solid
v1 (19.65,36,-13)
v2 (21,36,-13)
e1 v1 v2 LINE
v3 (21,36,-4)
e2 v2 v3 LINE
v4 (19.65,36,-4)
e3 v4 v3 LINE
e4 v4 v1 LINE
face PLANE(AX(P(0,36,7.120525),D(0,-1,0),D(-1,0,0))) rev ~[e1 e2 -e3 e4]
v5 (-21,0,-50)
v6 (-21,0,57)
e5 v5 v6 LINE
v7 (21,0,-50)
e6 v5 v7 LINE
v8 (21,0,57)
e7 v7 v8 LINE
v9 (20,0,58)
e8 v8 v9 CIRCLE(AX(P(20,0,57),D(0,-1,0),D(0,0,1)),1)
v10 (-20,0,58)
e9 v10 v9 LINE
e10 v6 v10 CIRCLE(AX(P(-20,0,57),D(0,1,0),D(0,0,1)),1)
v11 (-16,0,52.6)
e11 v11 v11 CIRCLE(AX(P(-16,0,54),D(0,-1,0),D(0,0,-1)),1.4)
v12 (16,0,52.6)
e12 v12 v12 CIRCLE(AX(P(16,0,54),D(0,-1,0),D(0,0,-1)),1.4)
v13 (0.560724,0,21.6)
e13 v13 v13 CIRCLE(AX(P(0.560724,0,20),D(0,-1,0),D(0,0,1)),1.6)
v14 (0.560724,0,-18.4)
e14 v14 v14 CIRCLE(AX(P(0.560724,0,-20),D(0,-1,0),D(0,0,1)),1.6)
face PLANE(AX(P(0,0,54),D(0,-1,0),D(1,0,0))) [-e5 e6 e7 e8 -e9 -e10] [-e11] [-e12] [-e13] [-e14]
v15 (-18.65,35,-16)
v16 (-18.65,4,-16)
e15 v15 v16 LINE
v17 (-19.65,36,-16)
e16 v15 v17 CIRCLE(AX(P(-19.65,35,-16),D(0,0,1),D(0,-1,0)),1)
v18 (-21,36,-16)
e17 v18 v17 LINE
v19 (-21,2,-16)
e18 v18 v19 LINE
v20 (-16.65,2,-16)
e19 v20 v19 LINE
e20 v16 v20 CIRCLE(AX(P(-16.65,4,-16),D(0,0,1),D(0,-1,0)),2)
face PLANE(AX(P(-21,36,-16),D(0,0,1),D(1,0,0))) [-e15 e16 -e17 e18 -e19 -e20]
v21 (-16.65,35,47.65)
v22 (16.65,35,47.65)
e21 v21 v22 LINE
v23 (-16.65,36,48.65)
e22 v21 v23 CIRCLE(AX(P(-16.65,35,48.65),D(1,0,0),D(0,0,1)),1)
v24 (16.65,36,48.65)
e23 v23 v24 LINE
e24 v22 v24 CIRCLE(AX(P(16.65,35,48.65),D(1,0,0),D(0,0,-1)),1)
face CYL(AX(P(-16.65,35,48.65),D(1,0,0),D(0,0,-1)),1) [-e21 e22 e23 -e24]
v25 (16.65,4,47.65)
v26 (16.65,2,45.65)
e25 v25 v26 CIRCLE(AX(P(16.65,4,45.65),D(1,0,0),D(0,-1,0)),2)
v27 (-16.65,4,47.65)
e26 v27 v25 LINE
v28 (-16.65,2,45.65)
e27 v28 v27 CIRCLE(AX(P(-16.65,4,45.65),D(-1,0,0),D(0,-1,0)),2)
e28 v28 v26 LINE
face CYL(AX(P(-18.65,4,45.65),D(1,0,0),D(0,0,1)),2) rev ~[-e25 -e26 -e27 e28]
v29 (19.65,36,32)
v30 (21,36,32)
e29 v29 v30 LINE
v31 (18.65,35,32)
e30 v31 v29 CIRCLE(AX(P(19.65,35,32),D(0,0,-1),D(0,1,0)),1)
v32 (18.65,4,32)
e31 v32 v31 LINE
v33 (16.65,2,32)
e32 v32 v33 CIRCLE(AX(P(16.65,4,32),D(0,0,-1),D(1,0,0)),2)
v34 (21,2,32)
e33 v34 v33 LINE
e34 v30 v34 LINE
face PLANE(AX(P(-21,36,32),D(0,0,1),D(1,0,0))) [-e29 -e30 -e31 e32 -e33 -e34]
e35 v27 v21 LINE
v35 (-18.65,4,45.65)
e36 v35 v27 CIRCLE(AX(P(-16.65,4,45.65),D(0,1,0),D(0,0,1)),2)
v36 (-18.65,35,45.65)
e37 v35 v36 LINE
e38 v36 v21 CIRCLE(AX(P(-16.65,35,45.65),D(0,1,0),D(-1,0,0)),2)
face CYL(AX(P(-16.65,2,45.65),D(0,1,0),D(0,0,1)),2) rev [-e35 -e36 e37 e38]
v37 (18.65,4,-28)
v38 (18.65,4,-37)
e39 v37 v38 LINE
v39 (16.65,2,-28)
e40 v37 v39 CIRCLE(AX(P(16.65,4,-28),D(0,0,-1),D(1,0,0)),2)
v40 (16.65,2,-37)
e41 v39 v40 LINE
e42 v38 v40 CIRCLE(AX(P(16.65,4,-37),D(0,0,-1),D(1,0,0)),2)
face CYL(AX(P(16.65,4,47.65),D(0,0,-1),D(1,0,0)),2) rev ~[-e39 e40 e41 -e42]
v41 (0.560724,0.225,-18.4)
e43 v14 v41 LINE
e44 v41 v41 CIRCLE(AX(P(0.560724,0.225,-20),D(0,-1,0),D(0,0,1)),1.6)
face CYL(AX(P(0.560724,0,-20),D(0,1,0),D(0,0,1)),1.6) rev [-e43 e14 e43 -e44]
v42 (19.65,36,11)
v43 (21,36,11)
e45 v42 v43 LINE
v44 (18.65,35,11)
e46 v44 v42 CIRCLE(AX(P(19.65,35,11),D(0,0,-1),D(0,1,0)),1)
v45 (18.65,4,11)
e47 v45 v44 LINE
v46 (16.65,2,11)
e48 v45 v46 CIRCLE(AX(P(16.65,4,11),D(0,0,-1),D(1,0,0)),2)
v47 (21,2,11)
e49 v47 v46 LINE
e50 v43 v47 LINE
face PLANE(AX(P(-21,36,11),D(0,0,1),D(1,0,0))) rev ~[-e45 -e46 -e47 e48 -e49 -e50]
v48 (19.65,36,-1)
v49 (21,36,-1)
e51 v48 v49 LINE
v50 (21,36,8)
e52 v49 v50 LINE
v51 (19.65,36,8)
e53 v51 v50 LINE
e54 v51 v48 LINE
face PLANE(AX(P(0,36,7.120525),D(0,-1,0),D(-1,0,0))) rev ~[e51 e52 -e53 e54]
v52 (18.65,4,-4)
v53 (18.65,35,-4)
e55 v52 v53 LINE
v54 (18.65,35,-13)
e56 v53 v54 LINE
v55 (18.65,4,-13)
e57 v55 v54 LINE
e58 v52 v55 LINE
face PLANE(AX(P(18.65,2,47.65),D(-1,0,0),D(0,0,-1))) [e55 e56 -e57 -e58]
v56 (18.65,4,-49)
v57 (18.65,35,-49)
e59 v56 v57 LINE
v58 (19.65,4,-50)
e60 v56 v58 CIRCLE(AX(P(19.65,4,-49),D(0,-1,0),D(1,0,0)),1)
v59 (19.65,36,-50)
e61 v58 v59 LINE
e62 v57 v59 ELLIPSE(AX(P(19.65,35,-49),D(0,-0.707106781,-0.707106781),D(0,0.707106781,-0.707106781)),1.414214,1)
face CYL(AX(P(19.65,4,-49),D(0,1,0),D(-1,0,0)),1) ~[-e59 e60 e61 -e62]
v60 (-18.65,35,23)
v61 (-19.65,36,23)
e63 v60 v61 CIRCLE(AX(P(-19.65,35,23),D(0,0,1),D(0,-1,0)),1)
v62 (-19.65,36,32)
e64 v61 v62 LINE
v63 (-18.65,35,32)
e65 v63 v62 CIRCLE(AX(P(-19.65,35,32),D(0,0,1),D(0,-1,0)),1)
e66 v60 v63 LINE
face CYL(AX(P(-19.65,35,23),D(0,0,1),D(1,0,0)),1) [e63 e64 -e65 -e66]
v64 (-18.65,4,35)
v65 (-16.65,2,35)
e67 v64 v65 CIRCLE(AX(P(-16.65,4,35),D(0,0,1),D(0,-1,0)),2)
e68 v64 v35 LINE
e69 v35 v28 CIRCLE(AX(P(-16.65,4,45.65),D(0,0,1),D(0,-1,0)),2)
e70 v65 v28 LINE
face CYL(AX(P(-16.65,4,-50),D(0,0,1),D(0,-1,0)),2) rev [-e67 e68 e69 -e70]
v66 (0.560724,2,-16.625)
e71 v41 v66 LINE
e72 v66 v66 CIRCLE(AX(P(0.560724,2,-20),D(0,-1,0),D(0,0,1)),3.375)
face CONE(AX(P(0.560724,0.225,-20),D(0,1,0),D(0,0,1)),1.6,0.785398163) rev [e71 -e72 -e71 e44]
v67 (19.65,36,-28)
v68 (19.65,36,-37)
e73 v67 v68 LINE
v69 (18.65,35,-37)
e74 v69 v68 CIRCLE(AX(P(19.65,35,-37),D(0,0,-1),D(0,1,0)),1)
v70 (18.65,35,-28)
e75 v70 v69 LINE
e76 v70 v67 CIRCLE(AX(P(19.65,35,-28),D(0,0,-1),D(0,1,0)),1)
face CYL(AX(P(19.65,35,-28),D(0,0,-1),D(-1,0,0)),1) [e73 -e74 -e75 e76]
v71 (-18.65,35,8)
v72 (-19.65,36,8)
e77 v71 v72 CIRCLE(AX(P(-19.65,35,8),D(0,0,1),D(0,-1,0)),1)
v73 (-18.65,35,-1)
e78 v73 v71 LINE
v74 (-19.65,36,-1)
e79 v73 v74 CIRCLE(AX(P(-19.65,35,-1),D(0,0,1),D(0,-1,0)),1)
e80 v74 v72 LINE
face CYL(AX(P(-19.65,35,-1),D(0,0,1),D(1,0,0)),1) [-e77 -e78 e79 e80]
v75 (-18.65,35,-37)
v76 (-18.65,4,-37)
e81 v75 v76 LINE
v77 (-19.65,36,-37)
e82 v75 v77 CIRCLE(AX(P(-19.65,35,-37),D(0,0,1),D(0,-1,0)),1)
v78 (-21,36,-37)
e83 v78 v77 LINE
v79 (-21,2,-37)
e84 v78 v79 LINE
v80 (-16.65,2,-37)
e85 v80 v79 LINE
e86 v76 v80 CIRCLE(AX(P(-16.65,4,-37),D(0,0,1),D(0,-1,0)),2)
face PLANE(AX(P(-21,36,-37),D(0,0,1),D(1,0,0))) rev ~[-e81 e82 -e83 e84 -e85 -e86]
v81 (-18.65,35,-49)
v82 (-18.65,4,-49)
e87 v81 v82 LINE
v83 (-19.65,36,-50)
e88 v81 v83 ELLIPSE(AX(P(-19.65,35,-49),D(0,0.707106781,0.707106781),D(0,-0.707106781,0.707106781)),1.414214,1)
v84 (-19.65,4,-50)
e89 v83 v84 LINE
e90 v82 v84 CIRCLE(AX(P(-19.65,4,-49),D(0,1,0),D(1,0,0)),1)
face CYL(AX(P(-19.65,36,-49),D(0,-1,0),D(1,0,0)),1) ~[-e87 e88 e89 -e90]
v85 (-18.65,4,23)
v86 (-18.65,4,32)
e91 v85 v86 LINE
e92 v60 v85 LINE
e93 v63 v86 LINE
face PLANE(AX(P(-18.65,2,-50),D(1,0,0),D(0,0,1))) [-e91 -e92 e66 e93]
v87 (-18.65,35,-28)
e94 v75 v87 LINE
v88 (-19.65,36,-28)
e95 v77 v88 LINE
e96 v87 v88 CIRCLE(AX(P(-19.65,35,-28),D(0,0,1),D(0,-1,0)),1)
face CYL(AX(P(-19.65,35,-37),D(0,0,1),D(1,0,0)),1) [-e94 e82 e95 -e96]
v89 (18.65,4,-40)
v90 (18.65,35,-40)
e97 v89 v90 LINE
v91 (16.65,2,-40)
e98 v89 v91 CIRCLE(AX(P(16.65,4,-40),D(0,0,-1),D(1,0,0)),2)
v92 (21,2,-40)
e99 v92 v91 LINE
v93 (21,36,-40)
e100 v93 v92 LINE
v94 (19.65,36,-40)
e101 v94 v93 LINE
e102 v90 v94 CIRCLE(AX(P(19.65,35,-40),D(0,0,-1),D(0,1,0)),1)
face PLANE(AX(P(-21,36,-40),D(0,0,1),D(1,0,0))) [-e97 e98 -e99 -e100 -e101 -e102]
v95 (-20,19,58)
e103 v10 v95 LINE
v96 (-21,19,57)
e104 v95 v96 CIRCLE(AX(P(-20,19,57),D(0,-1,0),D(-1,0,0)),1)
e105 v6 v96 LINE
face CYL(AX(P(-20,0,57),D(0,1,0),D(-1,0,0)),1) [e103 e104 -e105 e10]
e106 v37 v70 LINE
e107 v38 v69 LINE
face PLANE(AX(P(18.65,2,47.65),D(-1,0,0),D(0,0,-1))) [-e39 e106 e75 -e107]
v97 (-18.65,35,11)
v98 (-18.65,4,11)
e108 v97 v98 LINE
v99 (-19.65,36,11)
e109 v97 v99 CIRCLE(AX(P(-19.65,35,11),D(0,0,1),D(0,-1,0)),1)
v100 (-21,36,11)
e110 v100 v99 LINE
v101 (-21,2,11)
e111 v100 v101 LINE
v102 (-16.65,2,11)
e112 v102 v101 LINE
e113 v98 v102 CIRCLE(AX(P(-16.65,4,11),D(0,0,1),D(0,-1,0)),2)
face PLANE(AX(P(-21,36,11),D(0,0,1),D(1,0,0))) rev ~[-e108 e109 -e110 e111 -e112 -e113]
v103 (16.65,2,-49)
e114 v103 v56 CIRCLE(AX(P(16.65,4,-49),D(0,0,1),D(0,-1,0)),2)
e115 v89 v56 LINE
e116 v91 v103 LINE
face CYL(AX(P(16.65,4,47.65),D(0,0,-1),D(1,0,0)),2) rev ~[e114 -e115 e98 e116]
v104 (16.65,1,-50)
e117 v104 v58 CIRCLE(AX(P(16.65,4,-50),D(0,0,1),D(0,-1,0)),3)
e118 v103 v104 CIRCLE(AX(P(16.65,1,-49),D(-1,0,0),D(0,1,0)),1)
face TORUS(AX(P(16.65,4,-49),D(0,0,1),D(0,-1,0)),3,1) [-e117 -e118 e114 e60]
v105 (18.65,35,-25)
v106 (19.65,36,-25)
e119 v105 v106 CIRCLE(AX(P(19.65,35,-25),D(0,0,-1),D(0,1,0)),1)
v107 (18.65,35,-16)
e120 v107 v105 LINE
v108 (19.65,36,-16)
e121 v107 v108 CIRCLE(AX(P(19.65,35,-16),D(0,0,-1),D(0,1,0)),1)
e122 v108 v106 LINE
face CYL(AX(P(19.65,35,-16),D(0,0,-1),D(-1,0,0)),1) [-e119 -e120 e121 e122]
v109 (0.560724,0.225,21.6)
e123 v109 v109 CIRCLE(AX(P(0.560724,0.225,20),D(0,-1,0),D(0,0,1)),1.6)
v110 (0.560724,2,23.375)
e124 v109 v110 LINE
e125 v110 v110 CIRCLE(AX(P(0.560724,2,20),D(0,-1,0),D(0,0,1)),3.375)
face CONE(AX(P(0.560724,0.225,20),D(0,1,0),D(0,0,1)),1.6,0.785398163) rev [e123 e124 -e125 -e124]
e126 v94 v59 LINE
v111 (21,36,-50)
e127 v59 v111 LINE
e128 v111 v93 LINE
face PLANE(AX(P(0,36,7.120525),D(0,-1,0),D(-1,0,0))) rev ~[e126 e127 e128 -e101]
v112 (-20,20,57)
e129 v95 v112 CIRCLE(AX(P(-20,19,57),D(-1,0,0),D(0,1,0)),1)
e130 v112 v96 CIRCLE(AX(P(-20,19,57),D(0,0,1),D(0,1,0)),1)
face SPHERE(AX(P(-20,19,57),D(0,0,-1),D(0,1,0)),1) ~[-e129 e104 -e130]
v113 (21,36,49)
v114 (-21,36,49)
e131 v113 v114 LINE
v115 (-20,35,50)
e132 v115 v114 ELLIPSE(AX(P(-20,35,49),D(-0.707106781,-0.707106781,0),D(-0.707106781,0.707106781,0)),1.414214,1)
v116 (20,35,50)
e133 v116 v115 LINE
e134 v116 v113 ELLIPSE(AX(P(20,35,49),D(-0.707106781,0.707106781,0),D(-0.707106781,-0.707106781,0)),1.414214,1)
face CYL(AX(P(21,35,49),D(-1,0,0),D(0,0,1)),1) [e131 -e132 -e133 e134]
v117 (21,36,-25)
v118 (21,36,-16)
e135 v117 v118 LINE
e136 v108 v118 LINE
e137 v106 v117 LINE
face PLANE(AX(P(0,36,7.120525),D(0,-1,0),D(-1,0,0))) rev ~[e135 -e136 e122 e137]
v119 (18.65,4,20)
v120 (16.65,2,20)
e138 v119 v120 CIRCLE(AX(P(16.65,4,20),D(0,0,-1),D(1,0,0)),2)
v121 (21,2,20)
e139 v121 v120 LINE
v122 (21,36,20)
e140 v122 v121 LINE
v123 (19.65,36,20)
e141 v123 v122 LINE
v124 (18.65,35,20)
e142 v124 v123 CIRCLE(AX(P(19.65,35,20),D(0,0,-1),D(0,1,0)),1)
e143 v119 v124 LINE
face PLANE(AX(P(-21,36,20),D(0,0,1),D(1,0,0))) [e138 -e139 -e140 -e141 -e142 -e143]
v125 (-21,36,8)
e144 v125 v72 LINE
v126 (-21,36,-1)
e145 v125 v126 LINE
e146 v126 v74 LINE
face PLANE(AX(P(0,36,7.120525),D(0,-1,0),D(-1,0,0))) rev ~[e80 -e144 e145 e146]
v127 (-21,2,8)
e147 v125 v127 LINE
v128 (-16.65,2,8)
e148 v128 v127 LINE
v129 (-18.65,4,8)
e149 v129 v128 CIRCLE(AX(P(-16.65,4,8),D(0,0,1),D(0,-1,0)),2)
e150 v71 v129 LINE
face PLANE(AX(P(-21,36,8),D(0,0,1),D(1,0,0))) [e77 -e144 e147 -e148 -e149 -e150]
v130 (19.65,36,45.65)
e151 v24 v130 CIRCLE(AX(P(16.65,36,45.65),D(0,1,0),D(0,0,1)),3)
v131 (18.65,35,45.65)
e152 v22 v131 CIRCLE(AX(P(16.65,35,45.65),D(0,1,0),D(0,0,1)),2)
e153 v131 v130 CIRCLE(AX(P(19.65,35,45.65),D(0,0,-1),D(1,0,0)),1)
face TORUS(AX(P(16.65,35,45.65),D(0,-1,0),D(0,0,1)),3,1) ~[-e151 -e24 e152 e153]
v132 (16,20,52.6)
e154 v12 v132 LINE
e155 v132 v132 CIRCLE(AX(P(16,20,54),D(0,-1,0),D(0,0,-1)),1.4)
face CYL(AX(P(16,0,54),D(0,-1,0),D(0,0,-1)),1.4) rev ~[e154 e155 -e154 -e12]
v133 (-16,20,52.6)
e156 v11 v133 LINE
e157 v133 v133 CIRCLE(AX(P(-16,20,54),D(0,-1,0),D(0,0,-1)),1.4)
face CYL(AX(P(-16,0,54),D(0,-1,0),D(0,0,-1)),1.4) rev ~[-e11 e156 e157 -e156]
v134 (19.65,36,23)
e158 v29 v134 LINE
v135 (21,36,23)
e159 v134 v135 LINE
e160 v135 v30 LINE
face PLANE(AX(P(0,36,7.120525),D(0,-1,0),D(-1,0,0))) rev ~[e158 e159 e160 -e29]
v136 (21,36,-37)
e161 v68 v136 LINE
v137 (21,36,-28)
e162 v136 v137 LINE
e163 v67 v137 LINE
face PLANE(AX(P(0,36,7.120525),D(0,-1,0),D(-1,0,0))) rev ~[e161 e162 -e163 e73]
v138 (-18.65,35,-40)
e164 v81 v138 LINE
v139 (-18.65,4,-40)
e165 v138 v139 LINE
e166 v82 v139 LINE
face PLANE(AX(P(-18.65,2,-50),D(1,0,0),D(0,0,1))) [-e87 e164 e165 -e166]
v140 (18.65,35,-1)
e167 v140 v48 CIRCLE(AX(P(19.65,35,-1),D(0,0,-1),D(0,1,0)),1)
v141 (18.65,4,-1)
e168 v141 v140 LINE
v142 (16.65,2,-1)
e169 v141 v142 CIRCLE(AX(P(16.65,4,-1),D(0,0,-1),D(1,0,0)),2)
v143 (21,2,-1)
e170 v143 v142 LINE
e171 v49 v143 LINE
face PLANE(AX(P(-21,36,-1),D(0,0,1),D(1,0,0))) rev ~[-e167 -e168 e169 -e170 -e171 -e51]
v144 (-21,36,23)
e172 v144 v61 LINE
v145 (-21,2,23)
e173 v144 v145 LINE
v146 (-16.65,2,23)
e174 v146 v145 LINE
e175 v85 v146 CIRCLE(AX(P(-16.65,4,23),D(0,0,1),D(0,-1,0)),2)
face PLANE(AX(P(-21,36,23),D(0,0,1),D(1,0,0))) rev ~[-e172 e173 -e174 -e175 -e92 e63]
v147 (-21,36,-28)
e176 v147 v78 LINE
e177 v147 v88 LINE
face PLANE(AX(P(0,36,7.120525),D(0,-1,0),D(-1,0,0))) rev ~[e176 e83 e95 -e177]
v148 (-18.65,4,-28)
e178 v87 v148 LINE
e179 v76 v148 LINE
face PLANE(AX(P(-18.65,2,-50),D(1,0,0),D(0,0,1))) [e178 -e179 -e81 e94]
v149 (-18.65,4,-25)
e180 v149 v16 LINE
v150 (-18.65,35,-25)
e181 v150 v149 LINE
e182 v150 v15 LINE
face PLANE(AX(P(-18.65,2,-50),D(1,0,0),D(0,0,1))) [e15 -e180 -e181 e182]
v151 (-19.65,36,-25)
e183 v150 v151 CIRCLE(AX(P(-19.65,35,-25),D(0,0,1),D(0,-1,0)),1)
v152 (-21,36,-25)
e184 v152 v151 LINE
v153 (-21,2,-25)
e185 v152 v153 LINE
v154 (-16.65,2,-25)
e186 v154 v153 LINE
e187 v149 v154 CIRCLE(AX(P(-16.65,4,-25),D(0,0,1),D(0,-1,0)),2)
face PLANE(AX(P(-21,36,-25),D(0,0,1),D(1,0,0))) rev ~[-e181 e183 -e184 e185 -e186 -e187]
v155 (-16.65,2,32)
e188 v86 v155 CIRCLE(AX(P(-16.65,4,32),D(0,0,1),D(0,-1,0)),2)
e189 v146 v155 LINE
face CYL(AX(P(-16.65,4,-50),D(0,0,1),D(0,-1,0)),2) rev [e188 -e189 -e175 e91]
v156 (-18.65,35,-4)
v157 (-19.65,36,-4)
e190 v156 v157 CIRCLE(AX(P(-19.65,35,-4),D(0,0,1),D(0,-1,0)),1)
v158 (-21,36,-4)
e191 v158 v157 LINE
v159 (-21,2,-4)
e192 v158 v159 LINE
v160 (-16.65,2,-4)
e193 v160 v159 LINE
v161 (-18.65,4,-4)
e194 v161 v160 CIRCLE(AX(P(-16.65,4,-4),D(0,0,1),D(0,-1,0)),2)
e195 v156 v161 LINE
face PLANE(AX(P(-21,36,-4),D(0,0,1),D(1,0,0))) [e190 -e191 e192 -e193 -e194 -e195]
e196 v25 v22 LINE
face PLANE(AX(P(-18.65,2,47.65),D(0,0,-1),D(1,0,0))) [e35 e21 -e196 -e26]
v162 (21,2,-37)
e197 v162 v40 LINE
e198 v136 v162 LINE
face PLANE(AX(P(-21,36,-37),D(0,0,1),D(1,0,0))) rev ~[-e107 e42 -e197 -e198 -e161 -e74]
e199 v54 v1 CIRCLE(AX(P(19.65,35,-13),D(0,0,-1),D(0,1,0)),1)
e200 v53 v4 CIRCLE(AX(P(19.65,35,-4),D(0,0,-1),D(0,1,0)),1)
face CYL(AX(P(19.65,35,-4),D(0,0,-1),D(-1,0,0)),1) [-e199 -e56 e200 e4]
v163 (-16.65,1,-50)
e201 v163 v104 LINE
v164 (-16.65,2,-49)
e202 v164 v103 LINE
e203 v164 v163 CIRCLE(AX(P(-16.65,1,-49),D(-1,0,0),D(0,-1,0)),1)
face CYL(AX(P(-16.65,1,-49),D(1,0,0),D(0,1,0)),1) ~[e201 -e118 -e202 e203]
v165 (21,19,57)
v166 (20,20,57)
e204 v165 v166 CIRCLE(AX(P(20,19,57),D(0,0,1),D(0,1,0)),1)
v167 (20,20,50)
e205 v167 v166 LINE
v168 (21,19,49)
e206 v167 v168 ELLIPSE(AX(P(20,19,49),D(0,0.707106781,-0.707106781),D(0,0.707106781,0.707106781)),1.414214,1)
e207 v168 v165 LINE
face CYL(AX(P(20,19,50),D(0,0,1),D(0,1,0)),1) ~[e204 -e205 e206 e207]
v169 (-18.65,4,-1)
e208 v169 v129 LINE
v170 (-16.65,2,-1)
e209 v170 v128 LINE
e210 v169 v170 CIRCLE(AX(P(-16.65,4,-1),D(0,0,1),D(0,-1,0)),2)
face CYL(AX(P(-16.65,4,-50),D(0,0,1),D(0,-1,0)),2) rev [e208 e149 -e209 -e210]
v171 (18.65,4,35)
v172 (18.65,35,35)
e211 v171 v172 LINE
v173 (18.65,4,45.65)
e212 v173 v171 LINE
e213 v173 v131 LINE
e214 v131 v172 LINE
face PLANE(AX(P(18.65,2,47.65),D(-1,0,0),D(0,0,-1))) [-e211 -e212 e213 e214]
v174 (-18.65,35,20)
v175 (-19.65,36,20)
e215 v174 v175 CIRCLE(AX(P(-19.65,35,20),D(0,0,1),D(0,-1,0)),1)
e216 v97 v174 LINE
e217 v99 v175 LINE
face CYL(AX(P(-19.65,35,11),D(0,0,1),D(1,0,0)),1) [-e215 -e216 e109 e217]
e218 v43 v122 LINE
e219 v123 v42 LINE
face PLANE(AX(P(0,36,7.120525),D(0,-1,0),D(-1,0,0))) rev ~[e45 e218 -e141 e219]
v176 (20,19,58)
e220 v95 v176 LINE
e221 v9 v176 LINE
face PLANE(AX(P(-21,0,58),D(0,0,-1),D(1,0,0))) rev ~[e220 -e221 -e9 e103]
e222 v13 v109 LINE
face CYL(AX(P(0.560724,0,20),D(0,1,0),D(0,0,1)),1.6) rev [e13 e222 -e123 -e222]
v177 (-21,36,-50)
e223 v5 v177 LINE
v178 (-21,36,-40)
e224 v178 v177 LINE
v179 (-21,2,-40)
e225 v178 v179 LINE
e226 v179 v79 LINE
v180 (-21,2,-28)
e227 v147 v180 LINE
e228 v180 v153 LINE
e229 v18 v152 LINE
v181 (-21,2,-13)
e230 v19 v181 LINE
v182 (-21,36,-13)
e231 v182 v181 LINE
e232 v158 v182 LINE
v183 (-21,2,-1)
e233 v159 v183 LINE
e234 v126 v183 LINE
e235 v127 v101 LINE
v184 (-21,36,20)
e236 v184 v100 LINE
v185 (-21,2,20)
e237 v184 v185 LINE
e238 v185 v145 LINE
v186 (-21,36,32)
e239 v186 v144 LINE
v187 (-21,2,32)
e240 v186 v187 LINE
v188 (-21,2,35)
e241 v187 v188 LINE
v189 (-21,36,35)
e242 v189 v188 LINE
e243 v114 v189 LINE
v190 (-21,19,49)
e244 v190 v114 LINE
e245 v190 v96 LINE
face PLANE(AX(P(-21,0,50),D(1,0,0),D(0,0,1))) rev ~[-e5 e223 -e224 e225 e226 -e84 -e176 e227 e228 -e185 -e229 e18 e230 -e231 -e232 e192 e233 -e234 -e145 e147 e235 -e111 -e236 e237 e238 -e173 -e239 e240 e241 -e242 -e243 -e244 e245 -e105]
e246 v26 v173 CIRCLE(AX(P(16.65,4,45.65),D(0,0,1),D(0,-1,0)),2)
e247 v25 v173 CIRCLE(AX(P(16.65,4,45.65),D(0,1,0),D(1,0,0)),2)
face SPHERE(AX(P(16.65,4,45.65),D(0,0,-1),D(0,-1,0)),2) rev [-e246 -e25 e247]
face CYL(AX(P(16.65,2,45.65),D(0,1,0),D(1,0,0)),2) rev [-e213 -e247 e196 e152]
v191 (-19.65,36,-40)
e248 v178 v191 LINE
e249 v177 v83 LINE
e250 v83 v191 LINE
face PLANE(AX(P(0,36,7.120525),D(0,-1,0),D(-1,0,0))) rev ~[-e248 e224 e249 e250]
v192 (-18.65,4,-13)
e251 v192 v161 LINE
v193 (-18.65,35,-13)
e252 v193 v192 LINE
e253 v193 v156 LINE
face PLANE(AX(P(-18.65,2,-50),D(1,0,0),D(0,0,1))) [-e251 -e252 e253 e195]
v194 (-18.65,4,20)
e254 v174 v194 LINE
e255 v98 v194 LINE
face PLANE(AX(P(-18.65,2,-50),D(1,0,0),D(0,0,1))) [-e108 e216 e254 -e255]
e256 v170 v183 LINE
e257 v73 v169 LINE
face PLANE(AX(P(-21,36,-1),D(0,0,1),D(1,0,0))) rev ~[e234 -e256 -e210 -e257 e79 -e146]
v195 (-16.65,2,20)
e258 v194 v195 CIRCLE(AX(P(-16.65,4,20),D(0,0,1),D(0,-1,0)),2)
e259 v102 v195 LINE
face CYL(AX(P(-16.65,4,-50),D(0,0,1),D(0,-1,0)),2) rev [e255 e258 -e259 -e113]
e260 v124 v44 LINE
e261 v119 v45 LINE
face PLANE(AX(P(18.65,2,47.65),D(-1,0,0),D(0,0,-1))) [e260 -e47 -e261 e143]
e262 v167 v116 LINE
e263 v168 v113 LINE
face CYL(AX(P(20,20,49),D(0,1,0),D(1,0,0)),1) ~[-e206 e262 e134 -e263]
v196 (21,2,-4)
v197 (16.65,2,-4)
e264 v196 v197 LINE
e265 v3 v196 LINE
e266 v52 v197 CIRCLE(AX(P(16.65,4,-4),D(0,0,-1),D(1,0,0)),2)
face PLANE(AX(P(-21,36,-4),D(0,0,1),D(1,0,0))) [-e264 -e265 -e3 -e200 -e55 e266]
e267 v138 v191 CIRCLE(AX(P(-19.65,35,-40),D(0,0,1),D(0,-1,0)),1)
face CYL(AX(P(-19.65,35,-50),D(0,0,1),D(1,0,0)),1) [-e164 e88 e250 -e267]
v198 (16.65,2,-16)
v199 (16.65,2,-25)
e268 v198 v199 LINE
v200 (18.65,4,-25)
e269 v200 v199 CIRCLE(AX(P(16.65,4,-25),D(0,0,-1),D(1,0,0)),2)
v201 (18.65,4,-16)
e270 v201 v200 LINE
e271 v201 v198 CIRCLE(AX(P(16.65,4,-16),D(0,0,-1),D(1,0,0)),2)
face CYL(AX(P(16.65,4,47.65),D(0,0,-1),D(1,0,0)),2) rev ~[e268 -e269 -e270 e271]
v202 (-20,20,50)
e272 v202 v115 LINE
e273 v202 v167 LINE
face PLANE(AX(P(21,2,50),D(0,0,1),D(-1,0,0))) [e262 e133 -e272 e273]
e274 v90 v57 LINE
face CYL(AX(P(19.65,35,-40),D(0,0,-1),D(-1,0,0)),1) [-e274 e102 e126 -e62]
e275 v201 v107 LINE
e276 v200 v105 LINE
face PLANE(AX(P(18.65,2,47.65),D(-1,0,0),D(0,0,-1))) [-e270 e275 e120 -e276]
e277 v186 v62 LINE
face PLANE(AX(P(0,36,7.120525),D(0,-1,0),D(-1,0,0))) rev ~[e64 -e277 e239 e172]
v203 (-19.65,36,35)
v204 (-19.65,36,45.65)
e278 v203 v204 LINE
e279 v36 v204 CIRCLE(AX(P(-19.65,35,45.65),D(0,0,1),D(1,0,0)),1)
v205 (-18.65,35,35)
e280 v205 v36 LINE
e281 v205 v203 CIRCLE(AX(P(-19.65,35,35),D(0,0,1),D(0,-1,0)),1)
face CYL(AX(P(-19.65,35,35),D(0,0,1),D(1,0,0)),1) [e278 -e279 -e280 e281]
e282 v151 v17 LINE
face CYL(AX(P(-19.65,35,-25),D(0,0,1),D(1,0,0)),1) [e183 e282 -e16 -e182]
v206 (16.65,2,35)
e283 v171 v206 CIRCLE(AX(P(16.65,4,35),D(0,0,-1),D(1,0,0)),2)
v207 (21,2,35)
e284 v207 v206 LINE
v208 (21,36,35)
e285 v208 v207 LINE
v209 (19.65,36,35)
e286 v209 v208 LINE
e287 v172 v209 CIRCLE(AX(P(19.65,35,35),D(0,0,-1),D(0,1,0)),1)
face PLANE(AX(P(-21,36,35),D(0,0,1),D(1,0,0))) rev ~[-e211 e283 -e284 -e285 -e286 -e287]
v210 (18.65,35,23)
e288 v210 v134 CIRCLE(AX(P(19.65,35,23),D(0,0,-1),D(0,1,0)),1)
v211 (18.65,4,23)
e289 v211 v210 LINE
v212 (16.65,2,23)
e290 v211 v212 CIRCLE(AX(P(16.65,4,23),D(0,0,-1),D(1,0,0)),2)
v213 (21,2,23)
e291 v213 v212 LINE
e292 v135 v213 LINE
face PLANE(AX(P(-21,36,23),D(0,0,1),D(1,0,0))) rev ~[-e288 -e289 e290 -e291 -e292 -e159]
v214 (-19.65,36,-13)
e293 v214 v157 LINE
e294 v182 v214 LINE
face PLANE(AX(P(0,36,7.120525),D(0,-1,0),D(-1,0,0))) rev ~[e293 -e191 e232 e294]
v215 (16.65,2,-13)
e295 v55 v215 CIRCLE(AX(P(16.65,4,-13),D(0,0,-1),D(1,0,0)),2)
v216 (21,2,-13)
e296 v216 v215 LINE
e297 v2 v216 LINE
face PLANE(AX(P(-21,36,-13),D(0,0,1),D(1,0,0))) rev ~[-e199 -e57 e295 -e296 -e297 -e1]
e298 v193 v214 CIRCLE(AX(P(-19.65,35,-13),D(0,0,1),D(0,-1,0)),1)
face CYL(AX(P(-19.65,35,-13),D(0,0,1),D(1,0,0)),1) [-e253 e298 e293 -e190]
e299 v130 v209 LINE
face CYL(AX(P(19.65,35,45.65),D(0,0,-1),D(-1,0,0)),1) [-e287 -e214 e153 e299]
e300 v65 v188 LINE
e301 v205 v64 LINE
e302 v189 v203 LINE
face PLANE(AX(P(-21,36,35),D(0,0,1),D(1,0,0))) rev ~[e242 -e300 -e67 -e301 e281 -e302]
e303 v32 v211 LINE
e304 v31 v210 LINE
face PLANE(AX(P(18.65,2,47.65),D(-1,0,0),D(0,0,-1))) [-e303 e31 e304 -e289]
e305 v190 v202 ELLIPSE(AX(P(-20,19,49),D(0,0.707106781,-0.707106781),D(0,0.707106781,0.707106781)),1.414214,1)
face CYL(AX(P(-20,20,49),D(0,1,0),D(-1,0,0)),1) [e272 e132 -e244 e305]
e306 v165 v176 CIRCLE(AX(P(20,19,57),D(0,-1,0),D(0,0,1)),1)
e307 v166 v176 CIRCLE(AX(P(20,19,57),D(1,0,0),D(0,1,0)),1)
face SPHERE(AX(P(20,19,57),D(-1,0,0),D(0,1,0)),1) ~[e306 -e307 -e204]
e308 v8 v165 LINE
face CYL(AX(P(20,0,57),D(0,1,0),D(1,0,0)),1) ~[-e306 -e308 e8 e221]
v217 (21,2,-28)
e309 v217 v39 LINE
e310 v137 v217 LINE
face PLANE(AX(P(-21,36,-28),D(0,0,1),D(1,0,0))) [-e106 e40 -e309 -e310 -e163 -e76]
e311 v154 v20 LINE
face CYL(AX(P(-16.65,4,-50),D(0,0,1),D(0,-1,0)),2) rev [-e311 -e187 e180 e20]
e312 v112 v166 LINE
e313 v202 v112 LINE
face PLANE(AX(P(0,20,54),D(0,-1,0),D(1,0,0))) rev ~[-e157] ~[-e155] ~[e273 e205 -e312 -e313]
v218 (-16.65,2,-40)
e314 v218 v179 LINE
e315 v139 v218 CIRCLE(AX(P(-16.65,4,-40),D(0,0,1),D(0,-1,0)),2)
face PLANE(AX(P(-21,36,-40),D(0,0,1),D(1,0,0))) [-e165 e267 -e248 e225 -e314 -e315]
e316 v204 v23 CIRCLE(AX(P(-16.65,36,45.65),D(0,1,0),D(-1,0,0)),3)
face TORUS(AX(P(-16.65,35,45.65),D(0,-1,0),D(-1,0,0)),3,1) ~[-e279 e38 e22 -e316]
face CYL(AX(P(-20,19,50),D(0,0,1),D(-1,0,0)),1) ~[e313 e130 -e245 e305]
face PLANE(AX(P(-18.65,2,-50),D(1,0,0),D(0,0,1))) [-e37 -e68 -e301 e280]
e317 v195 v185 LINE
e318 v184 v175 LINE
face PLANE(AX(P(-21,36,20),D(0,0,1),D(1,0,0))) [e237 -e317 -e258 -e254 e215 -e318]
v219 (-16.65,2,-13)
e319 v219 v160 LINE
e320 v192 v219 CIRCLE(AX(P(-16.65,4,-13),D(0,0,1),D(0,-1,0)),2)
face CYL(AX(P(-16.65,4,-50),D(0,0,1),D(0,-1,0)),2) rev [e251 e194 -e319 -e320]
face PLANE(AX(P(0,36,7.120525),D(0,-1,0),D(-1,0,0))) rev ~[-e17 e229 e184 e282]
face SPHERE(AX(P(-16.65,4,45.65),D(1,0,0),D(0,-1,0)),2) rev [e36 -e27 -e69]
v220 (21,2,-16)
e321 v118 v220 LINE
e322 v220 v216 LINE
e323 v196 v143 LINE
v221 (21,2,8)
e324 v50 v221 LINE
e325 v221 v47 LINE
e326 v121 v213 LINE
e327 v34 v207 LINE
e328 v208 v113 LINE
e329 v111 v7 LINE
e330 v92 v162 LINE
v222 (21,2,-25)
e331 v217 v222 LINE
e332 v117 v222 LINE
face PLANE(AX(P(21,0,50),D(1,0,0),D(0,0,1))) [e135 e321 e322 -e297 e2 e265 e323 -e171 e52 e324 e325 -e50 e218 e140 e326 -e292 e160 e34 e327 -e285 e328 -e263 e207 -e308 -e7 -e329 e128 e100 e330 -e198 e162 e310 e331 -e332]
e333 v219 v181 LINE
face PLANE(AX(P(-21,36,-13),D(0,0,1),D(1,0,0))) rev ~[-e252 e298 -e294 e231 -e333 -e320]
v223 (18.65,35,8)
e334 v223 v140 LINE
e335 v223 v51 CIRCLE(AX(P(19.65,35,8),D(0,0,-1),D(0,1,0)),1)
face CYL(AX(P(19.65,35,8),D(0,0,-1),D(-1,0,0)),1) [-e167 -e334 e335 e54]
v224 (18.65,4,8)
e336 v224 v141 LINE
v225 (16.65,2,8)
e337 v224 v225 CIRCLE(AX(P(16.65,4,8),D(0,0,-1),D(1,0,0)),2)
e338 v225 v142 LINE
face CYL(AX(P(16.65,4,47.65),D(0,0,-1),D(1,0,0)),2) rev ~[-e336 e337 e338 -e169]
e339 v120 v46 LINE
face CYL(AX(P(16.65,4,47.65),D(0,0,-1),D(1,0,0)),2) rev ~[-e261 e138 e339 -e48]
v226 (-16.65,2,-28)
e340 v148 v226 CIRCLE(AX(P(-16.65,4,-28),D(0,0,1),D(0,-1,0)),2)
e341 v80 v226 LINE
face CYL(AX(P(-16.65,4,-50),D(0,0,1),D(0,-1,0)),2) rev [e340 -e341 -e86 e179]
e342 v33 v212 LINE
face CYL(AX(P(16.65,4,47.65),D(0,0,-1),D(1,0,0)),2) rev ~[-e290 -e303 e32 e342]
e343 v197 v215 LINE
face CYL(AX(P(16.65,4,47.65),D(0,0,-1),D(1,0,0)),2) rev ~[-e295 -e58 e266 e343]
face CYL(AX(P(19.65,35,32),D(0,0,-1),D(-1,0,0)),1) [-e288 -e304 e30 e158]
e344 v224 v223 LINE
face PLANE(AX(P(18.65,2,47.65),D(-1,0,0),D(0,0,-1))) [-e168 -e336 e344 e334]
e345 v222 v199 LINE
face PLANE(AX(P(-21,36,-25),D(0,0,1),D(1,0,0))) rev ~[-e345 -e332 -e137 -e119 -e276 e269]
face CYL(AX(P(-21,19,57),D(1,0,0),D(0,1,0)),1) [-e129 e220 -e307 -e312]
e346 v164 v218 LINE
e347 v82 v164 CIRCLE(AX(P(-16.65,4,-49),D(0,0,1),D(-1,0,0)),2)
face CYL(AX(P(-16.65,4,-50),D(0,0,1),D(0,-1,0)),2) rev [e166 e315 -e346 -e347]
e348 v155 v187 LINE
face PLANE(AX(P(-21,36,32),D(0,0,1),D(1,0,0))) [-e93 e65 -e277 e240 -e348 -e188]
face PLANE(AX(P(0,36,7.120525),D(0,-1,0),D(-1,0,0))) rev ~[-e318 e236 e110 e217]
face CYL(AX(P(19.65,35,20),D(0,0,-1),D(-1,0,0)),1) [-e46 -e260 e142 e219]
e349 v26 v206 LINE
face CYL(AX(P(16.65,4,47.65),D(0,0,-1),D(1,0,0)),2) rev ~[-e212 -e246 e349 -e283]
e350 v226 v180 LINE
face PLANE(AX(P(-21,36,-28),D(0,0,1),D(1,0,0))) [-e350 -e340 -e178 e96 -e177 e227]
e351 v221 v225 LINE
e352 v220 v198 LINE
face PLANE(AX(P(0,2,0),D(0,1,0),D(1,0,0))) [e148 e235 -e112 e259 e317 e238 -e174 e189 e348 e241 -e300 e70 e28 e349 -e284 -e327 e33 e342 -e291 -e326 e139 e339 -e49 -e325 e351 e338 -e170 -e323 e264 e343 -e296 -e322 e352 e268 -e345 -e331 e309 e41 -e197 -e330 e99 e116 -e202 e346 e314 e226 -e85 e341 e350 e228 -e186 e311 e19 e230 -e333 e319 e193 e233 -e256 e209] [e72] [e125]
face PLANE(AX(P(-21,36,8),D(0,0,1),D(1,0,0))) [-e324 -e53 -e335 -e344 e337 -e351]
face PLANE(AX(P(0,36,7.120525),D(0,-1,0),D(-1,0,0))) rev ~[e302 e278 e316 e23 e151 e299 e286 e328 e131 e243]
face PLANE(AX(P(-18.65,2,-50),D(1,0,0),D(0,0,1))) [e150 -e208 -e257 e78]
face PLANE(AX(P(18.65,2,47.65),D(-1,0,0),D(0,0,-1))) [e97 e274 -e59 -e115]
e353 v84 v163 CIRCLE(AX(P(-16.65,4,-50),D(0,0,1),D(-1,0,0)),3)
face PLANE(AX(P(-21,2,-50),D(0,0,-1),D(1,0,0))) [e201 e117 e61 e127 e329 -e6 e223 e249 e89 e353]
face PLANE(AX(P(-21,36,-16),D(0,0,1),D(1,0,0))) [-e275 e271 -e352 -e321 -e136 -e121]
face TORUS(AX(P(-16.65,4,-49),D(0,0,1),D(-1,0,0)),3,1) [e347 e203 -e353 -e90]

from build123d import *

# Parameters (mm, degrees)
SKETCH1_W                                      = 42
SKETCH1_H                                      = 100
BOSS_EXTRUDE1_DEPTH                            = 2
BOSS_EXTRUDE2_DEPTH                            = 34
FILLET1_R                                      = 2
CUT_EXTRUDE1_REACH                             = 67.092
SKETCH3_W                                      = 42
SKETCH3_H                                      = 3
LPATTERN1_COUNT                                = 7
LPATTERN1_PITCH                                = 12
CSK_FOR_M3_FLAT_HEAD_MACHINE_SCREW1_AT_2_COUNT = 2
CSK_FOR_M3_FLAT_HEAD_MACHINE_SCREW1_AT_2_PITCH = 40
SKETCH7_W                                      = 42
SKETCH7_H                                      = 8
SKETCH7_R                                      = 1.4
BOSS_EXTRUDE3_DEPTH                            = 20
FILLET2_R                                      = 1


with BuildPart() as part:
    # Sketch1 → Boss-Extrude1 (new body)
    with BuildSketch(Plane(origin=(0, 0, 0), x_dir=(1, 0, 0), z_dir=(0, 1, 0))):
        Rectangle(SKETCH1_W, SKETCH1_H)
    extrude(amount=BOSS_EXTRUDE1_DEPTH)

    # Sketch2 → Boss-Extrude2 (add)
    with BuildSketch(Plane(origin=(0, 2, 0), x_dir=(1, 0, 0), z_dir=(0, 1, 0))):
        Polygon((-21, 50), (-18.65, 50), (-18.65, -47.65), (18.65, -47.65), (18.65, 50), (21, 50), (21, -50), (-21, -50), align=None)
    extrude(amount=BOSS_EXTRUDE2_DEPTH)

    # Fillet1
    fillet1_edges = [part.edges().sort_by_distance(p)[0] for p in [
        (18.65, 2, -1.175),
        (0, 2, 47.65),
        (18.65, 19, 47.65),
        (-18.65, 2, -1.175),
        (-18.65, 19, 47.65),
    ]]
    fillet(fillet1_edges, radius=FILLET1_R)

    # Cut-Extrude1: up to this face of the body (flat: up to its plane)
    cut_extrude1_end = Plane(part.part.faces().sort_by_distance((0, 2, -2.175))[0])
    # Sketch3 → Cut-Extrude1 (cut, up to the picked face)
    with BuildSketch(Plane(origin=(0, 36, 0), x_dir=(1, 0, 0), z_dir=(0, 1, 0)), mode=Mode.PRIVATE) as cut_extrude1_sk1:
        with Locations((0, 38.5)):
            Rectangle(SKETCH3_W, SKETCH3_H)
    cut_extrude1_tool1 = split(extrude(cut_extrude1_sk1.sketch, amount=-CUT_EXTRUDE1_REACH, mode=Mode.PRIVATE), bisect_by=cut_extrude1_end, keep=Keep.BOTH, mode=Mode.PRIVATE)
    cut_extrude1 = cut_extrude1_tool1.solids().sort_by(Axis((0, 36, -38.5), (0, -1, 0)))[0]
    add(cut_extrude1, mode=Mode.SUBTRACT)

    # LPattern1: Cut-Extrude1 ×7
    with Locations(*[(0, 0, i * LPATTERN1_PITCH) for i in range(1, LPATTERN1_COUNT)]):
        add(cut_extrude1, mode=Mode.SUBTRACT)

    # Sketch5 → CSK for M3 Flat Head Machine Screw1 (revolve, cut)
    with BuildSketch(Plane(origin=(0.560724051, 2, -20), x_dir=(0, 0, 1), z_dir=(1, 0, 0))):
        Polygon((0, 0), (0, 2), (1.6, 2), (1.6, 1.775), (3.375, 0), align=None)
    csk_for_m3_flat_head_machine_screw1 = revolve(axis=Axis((0.560724051, 8.35, -20), (0, -1, 0)), mode=Mode.SUBTRACT)

    # CSK for M3 Flat Head Machine Screw1 at 2: CSK for M3 Flat Head Machine Screw1 ×2
    with Locations(*[(0, 0, i * CSK_FOR_M3_FLAT_HEAD_MACHINE_SCREW1_AT_2_PITCH) for i in range(1, CSK_FOR_M3_FLAT_HEAD_MACHINE_SCREW1_AT_2_COUNT)]):
        add(csk_for_m3_flat_head_machine_screw1, mode=Mode.SUBTRACT)

    # Sketch7 → Boss-Extrude3 (add)
    with BuildSketch(Plane.XZ):
        with Locations((0, 54)):
            Rectangle(SKETCH7_W, SKETCH7_H)
        with Locations(Location((-16, 54, 0), (0, 0, 270))):
            Circle(SKETCH7_R, mode=Mode.SUBTRACT)
        with Locations(Location((16, 54, 0), (0, 0, 270))):
            Circle(SKETCH7_R, mode=Mode.SUBTRACT)
    extrude(amount=-BOSS_EXTRUDE3_DEPTH)

    # Fillet2
    fillet2_edges = [part.edges().sort_by_distance(p)[0] for p in [
        (18.65, 36, -20.5),
        (18.65, 36, -8.5),
        (18.65, 36, 3.5),
        (18.65, 36, 15.5),
        (18.65, 36, 27.5),
        (18.65, 36, 40.325),
        (-18.65, 36, 27.5),
        (-18.65, 36, 15.5),
        (-18.65, 36, 3.5),
        (-18.65, 36, -8.5),
        (-18.65, 36, -20.5),
        (-18.65, 36, -32.5),
        (18.65, 20, -50),
        (-18.65, 20, -50),
        (0, 36, 50),
        (18.65, 36, -45),
        (-21, 20, 54),
        (0, 20, 58),
        (-21, 10, 58),
        (21, 20, 54),
        (21, 10, 58),
        (0, 36, 47.65),
        (-18.65, 36, 40.325),
        (0, 2, -50),
        (18.064213562, 36, 47.064213562),
        (-18.064213562, 36, 47.064213562),
        (18.064213562, 2.585786438, -50),
        (-18.064213562, 2.585786438, -50),
        (18.65, 36, -32.5),
        (-18.65, 36, -45),
        (21, 28, 50),
        (-21, 28, 50),
    ]]
    fillet(fillet2_edges, radius=FILLET2_R)


solid = part.part
